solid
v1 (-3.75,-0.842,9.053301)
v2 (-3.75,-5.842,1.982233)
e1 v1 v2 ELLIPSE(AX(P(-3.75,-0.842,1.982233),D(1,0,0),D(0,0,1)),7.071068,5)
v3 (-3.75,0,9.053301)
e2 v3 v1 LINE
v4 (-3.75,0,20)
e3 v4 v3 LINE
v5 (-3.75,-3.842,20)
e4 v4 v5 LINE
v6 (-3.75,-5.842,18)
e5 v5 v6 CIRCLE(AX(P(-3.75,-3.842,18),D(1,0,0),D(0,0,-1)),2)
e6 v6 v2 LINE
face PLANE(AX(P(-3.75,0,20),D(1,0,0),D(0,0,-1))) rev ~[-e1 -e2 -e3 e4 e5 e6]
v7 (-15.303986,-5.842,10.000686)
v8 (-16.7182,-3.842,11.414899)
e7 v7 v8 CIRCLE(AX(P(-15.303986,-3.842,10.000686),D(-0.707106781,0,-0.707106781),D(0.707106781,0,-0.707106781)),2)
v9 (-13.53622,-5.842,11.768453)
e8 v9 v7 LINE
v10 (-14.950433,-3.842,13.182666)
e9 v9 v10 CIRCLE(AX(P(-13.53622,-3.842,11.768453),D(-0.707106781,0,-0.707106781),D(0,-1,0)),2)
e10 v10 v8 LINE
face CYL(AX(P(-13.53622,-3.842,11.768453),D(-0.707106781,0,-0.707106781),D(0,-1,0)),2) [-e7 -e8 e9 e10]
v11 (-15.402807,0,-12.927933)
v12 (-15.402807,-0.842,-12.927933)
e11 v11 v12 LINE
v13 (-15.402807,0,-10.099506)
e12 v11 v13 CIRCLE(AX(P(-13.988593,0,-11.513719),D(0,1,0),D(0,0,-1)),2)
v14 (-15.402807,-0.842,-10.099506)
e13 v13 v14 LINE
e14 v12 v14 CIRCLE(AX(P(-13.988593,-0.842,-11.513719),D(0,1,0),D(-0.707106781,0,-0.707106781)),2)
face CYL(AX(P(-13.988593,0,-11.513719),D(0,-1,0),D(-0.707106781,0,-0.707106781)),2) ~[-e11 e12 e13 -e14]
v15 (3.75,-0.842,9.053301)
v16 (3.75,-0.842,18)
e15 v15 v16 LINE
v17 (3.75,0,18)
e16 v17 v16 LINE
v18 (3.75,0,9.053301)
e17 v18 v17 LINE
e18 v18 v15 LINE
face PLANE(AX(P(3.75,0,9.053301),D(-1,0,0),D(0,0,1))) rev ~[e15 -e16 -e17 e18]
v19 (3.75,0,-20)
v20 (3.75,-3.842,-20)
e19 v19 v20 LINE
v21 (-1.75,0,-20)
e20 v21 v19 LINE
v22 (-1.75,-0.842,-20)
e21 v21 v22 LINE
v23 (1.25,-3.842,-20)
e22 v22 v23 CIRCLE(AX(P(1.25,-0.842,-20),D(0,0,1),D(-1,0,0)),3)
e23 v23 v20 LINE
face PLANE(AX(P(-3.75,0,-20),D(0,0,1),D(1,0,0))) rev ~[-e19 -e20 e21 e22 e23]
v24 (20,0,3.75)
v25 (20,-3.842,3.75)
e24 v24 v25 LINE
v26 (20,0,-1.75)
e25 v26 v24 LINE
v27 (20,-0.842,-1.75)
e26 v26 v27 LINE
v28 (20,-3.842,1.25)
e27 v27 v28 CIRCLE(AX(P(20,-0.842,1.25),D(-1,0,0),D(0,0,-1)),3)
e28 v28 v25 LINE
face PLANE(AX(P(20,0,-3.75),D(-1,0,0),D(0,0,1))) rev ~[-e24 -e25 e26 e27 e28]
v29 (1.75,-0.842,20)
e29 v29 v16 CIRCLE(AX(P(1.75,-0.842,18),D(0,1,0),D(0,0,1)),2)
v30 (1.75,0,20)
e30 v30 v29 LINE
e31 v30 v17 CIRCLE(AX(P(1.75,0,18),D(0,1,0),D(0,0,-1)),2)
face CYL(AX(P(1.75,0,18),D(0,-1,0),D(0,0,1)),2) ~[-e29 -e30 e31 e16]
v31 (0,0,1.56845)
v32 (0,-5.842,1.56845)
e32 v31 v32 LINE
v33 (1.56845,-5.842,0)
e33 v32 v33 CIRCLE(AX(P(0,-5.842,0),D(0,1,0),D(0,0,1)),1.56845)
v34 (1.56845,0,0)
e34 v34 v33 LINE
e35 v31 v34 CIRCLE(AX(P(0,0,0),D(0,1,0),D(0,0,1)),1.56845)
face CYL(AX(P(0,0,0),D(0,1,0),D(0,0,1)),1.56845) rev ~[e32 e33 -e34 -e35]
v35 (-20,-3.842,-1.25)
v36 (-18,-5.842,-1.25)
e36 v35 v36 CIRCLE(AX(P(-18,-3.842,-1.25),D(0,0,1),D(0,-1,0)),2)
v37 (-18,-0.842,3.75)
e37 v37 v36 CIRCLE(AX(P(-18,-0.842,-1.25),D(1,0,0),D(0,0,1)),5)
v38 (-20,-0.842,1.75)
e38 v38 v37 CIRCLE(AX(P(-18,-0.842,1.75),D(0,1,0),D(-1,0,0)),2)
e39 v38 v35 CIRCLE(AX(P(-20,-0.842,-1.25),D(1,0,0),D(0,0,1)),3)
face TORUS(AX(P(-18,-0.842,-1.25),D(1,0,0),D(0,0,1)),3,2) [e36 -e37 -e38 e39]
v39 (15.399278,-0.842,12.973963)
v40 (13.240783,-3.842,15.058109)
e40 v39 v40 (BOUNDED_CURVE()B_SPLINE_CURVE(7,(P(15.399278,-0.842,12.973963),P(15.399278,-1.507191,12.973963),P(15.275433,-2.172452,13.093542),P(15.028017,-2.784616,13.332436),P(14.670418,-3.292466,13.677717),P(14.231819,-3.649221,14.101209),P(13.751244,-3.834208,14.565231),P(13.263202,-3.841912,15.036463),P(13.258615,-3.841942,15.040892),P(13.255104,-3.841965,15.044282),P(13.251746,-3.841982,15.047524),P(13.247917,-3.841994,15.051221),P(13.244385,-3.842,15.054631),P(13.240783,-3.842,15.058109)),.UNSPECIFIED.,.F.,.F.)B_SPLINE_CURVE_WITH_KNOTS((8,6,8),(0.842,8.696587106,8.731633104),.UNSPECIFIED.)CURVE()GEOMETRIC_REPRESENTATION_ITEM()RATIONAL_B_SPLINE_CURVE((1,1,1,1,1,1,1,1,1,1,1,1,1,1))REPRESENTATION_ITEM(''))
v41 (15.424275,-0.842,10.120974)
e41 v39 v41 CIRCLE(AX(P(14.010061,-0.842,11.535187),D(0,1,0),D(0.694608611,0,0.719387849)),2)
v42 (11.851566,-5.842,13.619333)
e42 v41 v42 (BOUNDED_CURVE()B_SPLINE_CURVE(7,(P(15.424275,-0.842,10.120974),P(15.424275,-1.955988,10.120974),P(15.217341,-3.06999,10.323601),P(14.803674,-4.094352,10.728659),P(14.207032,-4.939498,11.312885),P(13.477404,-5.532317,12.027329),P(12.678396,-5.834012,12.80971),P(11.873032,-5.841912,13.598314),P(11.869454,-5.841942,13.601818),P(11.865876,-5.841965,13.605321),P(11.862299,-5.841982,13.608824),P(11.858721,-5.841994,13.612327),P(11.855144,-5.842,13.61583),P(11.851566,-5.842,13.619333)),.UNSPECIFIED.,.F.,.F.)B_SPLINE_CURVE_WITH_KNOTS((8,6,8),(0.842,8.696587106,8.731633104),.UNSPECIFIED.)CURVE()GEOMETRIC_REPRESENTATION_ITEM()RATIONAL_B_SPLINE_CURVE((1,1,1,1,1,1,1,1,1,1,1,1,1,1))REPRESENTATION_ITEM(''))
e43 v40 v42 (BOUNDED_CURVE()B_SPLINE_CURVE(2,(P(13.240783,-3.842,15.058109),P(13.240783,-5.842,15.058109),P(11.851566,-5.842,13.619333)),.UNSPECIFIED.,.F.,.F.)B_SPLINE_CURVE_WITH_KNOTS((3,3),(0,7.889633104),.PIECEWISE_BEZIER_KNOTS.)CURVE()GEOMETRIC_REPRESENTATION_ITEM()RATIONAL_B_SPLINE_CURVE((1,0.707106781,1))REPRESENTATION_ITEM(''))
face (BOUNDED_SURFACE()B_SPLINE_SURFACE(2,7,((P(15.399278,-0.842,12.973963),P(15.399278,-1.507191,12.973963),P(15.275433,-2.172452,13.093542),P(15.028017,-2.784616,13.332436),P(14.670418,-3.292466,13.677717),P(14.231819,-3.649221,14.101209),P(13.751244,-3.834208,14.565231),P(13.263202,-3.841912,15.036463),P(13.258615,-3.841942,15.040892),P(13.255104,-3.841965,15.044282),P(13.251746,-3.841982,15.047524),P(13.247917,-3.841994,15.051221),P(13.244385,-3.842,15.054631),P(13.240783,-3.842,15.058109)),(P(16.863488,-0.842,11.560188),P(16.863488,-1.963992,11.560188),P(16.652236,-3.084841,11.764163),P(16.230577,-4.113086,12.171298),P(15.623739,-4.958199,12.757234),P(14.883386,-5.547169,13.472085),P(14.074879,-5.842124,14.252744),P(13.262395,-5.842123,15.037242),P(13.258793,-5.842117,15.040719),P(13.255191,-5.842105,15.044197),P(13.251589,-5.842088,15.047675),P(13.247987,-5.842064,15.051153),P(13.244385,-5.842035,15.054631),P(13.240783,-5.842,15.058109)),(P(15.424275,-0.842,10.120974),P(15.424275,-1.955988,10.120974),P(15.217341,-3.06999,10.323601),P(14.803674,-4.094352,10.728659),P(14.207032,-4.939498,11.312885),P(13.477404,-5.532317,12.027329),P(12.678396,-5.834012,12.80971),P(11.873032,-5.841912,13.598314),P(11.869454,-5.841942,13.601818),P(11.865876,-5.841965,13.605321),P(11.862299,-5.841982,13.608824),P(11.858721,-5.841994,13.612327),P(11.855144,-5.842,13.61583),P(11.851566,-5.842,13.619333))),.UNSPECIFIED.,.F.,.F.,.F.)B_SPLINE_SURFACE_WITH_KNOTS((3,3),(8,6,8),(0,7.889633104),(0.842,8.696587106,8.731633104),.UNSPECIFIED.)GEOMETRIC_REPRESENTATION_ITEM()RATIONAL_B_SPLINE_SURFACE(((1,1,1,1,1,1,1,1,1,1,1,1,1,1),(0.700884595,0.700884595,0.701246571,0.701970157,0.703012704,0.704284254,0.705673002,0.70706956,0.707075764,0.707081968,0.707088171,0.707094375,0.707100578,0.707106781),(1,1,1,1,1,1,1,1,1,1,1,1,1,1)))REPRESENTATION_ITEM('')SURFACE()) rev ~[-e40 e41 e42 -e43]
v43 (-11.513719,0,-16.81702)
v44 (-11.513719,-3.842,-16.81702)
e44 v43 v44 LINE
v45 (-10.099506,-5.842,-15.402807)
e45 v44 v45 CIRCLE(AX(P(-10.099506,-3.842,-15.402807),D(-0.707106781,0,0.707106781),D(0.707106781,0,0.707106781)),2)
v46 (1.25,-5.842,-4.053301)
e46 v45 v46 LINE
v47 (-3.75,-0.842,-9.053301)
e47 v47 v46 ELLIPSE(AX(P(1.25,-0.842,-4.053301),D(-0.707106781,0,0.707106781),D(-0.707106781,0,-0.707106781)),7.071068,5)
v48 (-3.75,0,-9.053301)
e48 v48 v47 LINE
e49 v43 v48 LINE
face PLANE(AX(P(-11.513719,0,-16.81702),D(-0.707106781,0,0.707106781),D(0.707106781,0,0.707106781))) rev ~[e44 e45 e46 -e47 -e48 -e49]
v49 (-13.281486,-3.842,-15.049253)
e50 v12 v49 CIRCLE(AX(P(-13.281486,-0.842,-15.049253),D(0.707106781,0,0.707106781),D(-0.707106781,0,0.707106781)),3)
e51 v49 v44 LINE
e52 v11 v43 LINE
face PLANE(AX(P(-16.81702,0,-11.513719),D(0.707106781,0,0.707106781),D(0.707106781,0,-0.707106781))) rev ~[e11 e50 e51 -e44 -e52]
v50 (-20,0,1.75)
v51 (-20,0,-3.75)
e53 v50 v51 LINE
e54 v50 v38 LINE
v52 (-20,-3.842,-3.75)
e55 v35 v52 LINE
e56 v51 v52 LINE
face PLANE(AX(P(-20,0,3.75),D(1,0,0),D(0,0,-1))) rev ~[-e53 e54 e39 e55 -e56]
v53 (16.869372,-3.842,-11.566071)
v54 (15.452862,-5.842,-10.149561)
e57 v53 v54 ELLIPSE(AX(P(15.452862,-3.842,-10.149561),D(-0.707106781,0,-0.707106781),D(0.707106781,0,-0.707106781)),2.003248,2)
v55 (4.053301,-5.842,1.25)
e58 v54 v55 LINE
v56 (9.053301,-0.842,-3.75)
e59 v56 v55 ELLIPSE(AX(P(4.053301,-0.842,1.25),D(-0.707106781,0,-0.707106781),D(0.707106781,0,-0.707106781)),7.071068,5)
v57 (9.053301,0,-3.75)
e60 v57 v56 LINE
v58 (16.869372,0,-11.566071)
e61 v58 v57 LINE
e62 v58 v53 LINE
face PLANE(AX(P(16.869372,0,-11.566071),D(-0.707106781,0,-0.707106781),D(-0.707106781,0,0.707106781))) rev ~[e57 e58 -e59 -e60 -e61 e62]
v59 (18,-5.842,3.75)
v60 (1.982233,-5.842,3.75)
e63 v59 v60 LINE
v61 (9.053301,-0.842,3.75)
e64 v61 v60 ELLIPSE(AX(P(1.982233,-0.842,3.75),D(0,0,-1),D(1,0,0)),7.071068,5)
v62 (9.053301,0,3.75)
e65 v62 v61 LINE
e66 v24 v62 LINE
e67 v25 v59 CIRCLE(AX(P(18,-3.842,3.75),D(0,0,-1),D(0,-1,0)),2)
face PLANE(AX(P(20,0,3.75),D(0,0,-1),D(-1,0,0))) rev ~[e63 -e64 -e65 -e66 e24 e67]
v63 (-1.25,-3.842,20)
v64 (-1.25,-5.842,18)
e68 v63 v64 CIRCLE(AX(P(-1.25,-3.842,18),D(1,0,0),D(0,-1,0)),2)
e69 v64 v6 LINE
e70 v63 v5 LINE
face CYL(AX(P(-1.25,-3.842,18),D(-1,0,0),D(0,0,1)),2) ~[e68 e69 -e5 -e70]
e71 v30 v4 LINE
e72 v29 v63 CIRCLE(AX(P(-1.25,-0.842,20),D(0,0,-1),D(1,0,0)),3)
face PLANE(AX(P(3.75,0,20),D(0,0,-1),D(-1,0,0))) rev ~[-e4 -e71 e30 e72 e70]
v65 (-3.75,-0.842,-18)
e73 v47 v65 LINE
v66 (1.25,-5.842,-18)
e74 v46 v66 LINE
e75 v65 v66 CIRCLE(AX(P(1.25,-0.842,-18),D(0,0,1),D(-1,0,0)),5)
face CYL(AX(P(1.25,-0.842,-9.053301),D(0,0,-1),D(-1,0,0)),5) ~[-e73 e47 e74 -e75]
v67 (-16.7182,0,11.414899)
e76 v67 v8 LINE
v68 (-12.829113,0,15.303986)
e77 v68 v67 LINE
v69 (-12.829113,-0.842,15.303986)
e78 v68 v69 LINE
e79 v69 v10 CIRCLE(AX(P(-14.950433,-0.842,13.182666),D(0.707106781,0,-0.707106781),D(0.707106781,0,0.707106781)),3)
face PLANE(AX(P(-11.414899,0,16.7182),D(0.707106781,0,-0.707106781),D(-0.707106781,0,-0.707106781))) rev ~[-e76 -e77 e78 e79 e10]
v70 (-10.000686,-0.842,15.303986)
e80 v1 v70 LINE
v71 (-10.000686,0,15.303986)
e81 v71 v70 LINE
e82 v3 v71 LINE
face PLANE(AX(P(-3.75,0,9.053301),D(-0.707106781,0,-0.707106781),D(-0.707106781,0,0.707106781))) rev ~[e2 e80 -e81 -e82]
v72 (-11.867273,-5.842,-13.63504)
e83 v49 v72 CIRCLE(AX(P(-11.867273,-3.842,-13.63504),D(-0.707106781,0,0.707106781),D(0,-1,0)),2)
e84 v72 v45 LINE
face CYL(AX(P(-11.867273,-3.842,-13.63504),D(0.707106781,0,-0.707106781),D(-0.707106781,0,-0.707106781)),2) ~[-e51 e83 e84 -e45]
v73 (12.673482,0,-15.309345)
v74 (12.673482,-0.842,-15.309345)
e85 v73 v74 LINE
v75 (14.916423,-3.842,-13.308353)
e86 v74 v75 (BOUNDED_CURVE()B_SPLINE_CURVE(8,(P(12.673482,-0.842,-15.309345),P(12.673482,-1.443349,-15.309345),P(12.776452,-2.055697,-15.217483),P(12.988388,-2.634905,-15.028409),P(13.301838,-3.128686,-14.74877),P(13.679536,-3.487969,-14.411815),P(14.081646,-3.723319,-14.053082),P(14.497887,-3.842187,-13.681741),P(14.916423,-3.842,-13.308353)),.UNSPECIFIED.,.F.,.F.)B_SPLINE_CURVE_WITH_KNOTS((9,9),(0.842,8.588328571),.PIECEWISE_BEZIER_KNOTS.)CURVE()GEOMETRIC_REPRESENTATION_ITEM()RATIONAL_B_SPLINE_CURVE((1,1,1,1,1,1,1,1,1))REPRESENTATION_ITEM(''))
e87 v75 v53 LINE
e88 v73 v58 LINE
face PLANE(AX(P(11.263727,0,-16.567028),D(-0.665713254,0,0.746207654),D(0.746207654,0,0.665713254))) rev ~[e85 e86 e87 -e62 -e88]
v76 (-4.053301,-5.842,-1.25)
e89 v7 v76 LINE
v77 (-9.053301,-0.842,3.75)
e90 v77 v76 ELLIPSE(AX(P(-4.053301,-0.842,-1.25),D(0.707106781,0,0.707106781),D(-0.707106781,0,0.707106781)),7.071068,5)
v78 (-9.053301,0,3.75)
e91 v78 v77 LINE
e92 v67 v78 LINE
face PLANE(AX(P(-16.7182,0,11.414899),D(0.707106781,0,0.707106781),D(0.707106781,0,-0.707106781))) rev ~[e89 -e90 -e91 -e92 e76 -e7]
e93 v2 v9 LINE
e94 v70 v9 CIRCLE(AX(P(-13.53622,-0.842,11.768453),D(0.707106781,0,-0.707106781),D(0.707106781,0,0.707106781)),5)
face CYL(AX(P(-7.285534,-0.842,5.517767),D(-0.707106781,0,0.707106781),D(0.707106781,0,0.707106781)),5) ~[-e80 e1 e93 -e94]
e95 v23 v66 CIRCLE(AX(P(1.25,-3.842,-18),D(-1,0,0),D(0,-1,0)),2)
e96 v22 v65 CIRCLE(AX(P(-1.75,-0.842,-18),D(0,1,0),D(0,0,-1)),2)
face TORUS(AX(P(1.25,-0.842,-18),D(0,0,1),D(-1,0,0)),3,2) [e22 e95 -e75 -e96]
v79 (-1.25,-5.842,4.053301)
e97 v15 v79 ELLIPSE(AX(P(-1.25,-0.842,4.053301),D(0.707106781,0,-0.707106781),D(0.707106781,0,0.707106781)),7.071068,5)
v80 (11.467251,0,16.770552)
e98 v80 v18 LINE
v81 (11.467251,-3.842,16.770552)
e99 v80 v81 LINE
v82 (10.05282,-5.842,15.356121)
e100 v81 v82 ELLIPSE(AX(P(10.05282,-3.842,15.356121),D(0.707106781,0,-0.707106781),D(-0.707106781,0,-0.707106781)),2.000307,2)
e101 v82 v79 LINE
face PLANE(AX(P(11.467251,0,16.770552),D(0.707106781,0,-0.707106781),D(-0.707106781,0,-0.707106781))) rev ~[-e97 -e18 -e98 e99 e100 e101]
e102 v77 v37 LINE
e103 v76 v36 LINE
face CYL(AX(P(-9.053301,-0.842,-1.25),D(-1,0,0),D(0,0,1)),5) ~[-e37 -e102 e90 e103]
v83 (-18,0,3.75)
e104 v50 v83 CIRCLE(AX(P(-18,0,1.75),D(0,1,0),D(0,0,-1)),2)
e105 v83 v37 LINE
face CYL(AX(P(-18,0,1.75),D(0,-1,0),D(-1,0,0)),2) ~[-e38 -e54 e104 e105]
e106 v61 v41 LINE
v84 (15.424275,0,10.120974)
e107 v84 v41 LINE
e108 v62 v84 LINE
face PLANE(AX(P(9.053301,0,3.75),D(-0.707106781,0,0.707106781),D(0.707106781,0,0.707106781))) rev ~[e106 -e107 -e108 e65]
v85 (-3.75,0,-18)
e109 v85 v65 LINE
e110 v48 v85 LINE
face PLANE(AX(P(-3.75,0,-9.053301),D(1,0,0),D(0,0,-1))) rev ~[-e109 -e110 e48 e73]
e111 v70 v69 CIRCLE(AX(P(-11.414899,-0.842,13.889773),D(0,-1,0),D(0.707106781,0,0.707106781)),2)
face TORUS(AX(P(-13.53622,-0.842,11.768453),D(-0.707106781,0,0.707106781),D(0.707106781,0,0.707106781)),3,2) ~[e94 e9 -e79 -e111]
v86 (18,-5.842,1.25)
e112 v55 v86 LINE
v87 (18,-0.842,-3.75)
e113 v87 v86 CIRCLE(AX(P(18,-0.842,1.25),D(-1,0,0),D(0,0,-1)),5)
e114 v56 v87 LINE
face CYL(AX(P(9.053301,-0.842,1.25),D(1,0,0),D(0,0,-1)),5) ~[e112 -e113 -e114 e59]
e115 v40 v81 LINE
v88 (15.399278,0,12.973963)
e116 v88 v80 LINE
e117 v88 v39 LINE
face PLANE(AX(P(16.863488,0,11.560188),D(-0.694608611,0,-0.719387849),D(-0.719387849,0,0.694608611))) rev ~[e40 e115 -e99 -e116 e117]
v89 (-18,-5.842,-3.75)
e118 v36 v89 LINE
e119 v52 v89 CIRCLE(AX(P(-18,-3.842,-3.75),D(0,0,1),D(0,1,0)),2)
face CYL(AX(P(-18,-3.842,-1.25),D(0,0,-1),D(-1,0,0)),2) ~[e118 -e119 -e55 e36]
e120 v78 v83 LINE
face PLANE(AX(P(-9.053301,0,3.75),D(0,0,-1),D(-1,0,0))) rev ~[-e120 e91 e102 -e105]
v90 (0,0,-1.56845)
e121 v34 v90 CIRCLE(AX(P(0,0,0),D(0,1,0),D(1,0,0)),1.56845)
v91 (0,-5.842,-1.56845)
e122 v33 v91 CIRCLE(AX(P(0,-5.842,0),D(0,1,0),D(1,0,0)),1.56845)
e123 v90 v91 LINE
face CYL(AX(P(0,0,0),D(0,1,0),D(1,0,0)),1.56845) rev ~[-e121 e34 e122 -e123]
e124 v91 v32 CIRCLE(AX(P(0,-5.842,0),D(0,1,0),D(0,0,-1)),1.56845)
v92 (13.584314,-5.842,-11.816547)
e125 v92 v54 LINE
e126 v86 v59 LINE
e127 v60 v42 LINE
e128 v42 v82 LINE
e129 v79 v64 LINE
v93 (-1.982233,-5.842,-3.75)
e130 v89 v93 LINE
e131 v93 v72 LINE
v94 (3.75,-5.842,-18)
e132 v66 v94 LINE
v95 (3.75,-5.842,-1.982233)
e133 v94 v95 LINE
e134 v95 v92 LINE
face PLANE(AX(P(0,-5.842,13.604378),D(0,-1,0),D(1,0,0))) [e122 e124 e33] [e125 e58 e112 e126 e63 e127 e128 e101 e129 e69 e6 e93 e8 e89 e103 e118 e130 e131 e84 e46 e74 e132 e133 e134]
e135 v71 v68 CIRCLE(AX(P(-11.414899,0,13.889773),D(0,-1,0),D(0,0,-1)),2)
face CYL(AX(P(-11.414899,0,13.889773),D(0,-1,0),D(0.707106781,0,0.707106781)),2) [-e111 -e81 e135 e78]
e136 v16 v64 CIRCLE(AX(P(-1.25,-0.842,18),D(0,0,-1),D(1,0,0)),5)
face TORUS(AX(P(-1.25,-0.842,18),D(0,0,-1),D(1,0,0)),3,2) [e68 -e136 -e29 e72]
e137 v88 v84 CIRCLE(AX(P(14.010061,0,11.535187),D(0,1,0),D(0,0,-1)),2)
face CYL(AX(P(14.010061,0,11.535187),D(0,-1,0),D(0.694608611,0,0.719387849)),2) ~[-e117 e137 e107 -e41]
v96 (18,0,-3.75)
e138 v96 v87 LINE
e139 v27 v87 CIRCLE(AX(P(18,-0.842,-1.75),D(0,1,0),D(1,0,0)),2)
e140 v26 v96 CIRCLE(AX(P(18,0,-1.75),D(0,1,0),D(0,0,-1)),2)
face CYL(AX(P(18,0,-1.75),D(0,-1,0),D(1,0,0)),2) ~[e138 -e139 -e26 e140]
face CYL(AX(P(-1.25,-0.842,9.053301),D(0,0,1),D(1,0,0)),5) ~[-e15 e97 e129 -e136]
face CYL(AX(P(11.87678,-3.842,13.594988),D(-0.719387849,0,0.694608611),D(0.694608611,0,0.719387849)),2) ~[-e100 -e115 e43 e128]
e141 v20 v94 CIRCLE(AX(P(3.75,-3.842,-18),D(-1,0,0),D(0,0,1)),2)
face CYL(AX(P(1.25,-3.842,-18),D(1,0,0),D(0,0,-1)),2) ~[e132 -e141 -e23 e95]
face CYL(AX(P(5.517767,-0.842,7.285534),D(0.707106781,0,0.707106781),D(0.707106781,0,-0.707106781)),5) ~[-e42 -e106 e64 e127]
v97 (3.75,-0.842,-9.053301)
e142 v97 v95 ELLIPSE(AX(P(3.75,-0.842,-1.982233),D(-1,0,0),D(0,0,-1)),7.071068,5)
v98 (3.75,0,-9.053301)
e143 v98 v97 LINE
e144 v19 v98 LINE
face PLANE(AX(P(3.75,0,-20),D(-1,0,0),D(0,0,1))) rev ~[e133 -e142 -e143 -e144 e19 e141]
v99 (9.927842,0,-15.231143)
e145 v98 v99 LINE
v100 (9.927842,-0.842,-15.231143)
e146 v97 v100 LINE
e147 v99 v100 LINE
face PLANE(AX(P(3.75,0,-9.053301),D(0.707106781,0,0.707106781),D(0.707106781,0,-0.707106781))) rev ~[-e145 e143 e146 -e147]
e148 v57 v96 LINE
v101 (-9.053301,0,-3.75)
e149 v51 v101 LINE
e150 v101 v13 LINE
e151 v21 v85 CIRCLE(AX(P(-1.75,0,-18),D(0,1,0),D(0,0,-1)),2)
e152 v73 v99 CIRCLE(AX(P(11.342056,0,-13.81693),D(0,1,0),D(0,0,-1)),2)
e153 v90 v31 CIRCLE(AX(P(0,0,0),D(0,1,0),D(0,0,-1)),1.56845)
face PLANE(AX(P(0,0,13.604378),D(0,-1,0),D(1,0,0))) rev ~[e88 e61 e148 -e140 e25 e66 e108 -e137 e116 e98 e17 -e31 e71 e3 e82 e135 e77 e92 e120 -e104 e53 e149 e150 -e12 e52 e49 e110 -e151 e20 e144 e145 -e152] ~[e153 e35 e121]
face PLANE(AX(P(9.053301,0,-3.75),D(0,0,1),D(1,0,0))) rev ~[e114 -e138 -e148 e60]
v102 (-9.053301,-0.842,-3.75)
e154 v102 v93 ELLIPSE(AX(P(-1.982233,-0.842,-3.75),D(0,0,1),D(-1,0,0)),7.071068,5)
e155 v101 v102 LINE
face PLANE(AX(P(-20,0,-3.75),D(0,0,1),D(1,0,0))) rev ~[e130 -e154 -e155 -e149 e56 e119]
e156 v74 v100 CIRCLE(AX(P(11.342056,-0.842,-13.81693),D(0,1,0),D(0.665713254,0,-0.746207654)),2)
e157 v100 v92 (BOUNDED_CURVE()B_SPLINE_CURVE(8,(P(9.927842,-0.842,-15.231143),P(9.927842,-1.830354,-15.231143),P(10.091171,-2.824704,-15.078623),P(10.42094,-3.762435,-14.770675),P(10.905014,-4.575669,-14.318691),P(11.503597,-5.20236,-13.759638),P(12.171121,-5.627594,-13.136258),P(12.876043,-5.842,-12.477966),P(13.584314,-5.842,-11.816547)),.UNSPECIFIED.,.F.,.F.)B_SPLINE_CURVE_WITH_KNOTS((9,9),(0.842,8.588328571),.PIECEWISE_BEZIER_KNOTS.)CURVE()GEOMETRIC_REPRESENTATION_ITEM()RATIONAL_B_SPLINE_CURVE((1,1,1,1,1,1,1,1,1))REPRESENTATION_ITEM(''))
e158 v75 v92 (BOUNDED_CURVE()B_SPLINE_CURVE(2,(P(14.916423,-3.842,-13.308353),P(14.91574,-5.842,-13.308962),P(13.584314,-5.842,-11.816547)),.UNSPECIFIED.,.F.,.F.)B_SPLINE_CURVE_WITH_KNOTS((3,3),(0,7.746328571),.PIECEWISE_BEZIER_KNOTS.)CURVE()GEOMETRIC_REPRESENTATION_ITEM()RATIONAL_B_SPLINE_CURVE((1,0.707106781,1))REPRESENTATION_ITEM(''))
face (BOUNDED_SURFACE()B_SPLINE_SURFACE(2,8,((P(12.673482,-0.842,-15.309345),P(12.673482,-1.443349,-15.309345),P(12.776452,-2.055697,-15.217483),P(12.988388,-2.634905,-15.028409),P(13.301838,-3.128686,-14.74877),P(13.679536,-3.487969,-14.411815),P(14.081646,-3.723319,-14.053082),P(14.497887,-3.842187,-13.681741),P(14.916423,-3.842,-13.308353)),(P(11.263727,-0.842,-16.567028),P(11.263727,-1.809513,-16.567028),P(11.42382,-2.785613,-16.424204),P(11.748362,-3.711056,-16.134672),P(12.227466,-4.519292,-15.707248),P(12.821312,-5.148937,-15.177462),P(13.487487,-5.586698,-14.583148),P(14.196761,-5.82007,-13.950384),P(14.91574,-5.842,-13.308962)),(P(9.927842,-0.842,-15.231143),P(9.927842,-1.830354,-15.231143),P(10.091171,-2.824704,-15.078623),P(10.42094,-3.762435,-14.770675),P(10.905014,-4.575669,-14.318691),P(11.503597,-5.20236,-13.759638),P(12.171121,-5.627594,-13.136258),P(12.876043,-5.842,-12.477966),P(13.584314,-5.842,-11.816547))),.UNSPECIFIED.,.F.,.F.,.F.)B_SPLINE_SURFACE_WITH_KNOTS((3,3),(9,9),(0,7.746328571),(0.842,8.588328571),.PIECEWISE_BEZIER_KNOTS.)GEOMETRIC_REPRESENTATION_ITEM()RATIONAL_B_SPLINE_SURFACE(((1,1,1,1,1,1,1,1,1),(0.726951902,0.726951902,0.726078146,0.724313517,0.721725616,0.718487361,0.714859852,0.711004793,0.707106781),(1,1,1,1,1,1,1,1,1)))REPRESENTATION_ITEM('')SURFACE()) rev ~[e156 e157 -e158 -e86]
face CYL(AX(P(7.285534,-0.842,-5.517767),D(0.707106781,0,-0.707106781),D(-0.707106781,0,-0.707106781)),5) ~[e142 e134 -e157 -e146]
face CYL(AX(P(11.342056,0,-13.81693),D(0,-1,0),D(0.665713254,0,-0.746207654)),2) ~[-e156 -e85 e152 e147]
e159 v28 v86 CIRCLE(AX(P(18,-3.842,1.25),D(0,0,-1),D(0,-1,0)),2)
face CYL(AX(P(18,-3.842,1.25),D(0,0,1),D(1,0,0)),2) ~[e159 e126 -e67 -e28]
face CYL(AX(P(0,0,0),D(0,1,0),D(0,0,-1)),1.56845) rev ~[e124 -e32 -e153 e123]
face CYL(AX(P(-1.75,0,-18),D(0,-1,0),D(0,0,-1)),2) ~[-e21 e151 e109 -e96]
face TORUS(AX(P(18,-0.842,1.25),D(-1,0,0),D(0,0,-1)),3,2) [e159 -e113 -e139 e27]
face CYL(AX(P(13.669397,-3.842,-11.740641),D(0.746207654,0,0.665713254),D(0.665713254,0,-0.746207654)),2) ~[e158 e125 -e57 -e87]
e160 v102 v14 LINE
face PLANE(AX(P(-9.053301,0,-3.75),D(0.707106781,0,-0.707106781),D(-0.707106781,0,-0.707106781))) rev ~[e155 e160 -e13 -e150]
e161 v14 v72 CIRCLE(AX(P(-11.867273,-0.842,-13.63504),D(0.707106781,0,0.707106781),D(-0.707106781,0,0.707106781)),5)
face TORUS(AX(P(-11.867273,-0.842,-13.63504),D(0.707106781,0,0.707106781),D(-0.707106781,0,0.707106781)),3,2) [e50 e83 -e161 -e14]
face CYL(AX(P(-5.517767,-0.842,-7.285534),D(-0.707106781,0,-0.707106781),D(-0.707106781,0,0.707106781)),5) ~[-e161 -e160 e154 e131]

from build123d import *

# Parameters (mm, degrees)
F1_DEPTH = 5.842
F2_R     = 5
F3_R     = 2


with BuildPart() as f1:
    # F0 (on Front) → F1 (new body)
    with BuildSketch(Plane.XZ):
        Polygon((0, 5.3033008589), (3.75, 9.0533008589), (3.75, 20), (-3.75, 20), (-3.75, 9.0533008589), align=None)
        Polygon((3.75, -20), (3.75, -9.0533008589), (0, -5.3033008589), (-3.75, -9.0533008589), (-3.75, -20), align=None)
        Polygon((-3.75, 3.75), (-3.75, 9.0533008589), (-11.4148991575, 16.7182000164), (-16.7182000164, 11.4148991575), (-9.0533008589, 3.75), align=None)
        Polygon((-11.5137192974, -16.8170201563), (-3.75, -9.0533008589), (-3.75, -3.75), (-9.0533008589, -3.75), (-16.8170201563, -11.5137192974), align=None)
        Polygon((3.75, 9.0533008589), (3.75, 3.75), (9.0533008589, 3.75), (16.8634883625, 11.5601875036), (11.4672510912, 16.7705519501), align=None)
        Polygon((16.86937209, -11.5660712311), (9.0533008589, -3.75), (3.75, -3.75), (3.75, -9.0533008589), (11.2637270839, -16.5670279428), align=None)
        Polygon((-9.0533008589, -3.75), (-5.3033008589, 0), (-9.0533008589, 3.75), (-20, 3.75), (-20, -3.75), align=None)
        Polygon((9.0533008589, 3.75), (5.3033008589, 0), (9.0533008589, -3.75), (20, -3.75), (20, 3.75), align=None)
        with BuildLine():
            ThreePointArc((3.75, 3.3071891388), (4.6193976626, 1.9134171618), (4.9901862962, 0.3131145627))
            Line((4.9901862962, 0.3131145627), (5.3033008589, 0))
            Line((5.3033008589, 0), (9.0533008589, 3.75))
            Line((9.0533008589, 3.75), (3.75, 3.75))
            Line((3.75, 3.75), (3.75, 3.3071891388))
        make_face()
        with BuildLine():
            ThreePointArc((0.3131145627, 4.9901862962), (1.9134171618, 4.6193976626), (3.3071891388, 3.75))
            Line((3.3071891388, 3.75), (3.75, 3.75))
            Line((3.75, 3.75), (3.75, 9.0533008589))
            Line((3.75, 9.0533008589), (0, 5.3033008589))
            Line((0, 5.3033008589), (0.3131145627, 4.9901862962))
        make_face()
        with BuildLine():
            ThreePointArc((-3.3071891388, 3.75), (-1.9134171618, 4.6193976626), (-0.3131145627, 4.9901862962))
            Line((-0.3131145627, 4.9901862962), (0, 5.3033008589))
            Line((0, 5.3033008589), (-3.75, 9.0533008589))
            Line((-3.75, 9.0533008589), (-3.75, 3.75))
            Line((-3.75, 3.75), (-3.3071891388, 3.75))
        make_face()
        with BuildLine():
            ThreePointArc((-4.9901862962, 0.3131145627), (-4.6193976626, 1.9134171618), (-3.75, 3.3071891388))
            Line((-3.75, 3.3071891388), (-3.75, 3.75))
            Line((-3.75, 3.75), (-9.0533008589, 3.75))
            Line((-9.0533008589, 3.75), (-5.3033008589, 0))
            Line((-5.3033008589, 0), (-4.9901862962, 0.3131145627))
        make_face()
        with BuildLine():
            Line((-3.75, -3.75), (-3.75, -3.3071891388))
            ThreePointArc((-3.75, -3.3071891388), (-4.6193976626, -1.9134171618), (-4.9901862962, -0.3131145627))
            Line((-4.9901862962, -0.3131145627), (-5.3033008589, 0))
            Line((-5.3033008589, 0), (-9.0533008589, -3.75))
            Line((-9.0533008589, -3.75), (-3.75, -3.75))
        make_face()
        with BuildLine():
            Line((3.75, -3.75), (3.3071891388, -3.75))
            ThreePointArc((3.3071891388, -3.75), (1.9134171618, -4.6193976626), (0.3131145627, -4.9901862962))
            Line((0.3131145627, -4.9901862962), (0, -5.3033008589))
            Line((0, -5.3033008589), (3.75, -9.0533008589))
            Line((3.75, -9.0533008589), (3.75, -3.75))
        make_face()
        with BuildLine():
            Line((5.3033008589, 0), (4.9901862962, -0.3131145627))
            ThreePointArc((4.9901862962, -0.3131145627), (4.6193976626, -1.9134171618), (3.75, -3.3071891388))
            Line((3.75, -3.3071891388), (3.75, -3.75))
            Line((3.75, -3.75), (9.0533008589, -3.75))
            Line((9.0533008589, -3.75), (5.3033008589, 0))
        make_face()
        with BuildLine():
            Line((0, -5.3033008589), (-0.3131145627, -4.9901862962))
            ThreePointArc((-0.3131145627, -4.9901862962), (-1.9134171618, -4.6193976626), (-3.3071891388, -3.75))
            Line((-3.3071891388, -3.75), (-3.75, -3.75))
            Line((-3.75, -3.75), (-3.75, -9.0533008589))
            Line((-3.75, -9.0533008589), (0, -5.3033008589))
        make_face()
        with BuildLine():
            Line((-3.75, -3.3071891388), (-3.75, -1.5533008589))
            Line((-3.75, -1.5533008589), (-4.9901862962, -0.3131145627))
            ThreePointArc((-4.9901862962, -0.3131145627), (-4.6193976626, -1.9134171618), (-3.75, -3.3071891388))
        make_face()
        with BuildLine():
            Line((-1.5533008589, 3.75), (1.5533008589, 3.75))
            Line((1.5533008589, 3.75), (0.3131145627, 4.9901862962))
            ThreePointArc((0.3131145627, 4.9901862962), (0, 5), (-0.3131145627, 4.9901862962))
            Line((-0.3131145627, 4.9901862962), (-1.5533008589, 3.75))
        make_face()
        with BuildLine():
            ThreePointArc((4.9901862962, -0.3131145627), (4.9975459718, -0.1566341583), (5, 0))
            ThreePointArc((5, 0), (4.9975459718, 0.1566341583), (4.9901862962, 0.3131145627))
            Line((4.9901862962, 0.3131145627), (3.75, 1.5533008589))
            Line((3.75, 1.5533008589), (3.75, -1.5533008589))
            Line((3.75, -1.5533008589), (4.9901862962, -0.3131145627))
        make_face()
        with BuildLine():
            Line((-3.75, -1.5533008589), (-3.75, 1.5533008589))
            Line((-3.75, 1.5533008589), (-4.9901862962, 0.3131145627))
            ThreePointArc((-4.9901862962, 0.3131145627), (-5, 0), (-4.9901862962, -0.3131145627))
            Line((-4.9901862962, -0.3131145627), (-3.75, -1.5533008589))
        make_face()
        with BuildLine():
            Line((0, -5.3033008589), (0.3131145627, -4.9901862962))
            ThreePointArc((0.3131145627, -4.9901862962), (0, -5), (-0.3131145627, -4.9901862962))
            Line((-0.3131145627, -4.9901862962), (0, -5.3033008589))
        make_face()
        with BuildLine():
            ThreePointArc((-3.75, 3.3071891388), (-3.5355339059, 3.5355339059), (-3.3071891388, 3.75))
            Line((-3.3071891388, 3.75), (-3.75, 3.75))
            Line((-3.75, 3.75), (-3.75, 3.3071891388))
        make_face()
        Polygon((3.75, -1.5533008589), (3.75, 1.5533008589), (1.5533008589, 3.75), (-1.5533008589, 3.75), (-3.75, 1.5533008589), (-3.75, -1.5533008589), (-1.5533008589, -3.75), (1.5533008589, -3.75), align=None)
        with BuildLine():
            ThreePointArc((0, 1.56845), (1.109061631, 1.109061631), (1.56845, 0))
            ThreePointArc((1.56845, 0), (1.109061631, -1.109061631), (0, -1.56845))
            ThreePointArc((0, -1.56845), (-1.56845, 0), (0, 1.56845))
        make_face(mode=Mode.SUBTRACT)
        with BuildLine():
            Line((-3.3071891388, -3.75), (-1.5533008589, -3.75))
            Line((-1.5533008589, -3.75), (-3.75, -1.5533008589))
            Line((-3.75, -1.5533008589), (-3.75, -3.3071891388))
            ThreePointArc((-3.75, -3.3071891388), (-3.5355339059, -3.5355339059), (-3.3071891388, -3.75))
        make_face()
        with BuildLine():
            ThreePointArc((3.3071891388, -3.75), (3.5355339059, -3.5355339059), (3.75, -3.3071891388))
            Line((3.75, -3.3071891388), (3.75, -1.5533008589))
            Line((3.75, -1.5533008589), (1.5533008589, -3.75))
            Line((1.5533008589, -3.75), (3.3071891388, -3.75))
        make_face()
        with BuildLine():
            ThreePointArc((3.3071891388, 3.75), (3.5355339059, 3.5355339059), (3.75, 3.3071891388))
            Line((3.75, 3.3071891388), (3.75, 3.75))
            Line((3.75, 3.75), (3.3071891388, 3.75))
        make_face()
        with BuildLine():
            ThreePointArc((3.75, -3.3071891388), (4.6193976626, -1.9134171618), (4.9901862962, -0.3131145627))
            Line((4.9901862962, -0.3131145627), (3.75, -1.5533008589))
            Line((3.75, -1.5533008589), (3.75, -3.3071891388))
        make_face()
        with BuildLine():
            Line((0.3131145627, -4.9901862962), (1.5533008589, -3.75))
            Line((1.5533008589, -3.75), (-1.5533008589, -3.75))
            Line((-1.5533008589, -3.75), (-0.3131145627, -4.9901862962))
            ThreePointArc((-0.3131145627, -4.9901862962), (0, -5), (0.3131145627, -4.9901862962))
        make_face()
        with BuildLine():
            Line((-3.75, 1.5533008589), (-1.5533008589, 3.75))
            Line((-1.5533008589, 3.75), (-3.3071891388, 3.75))
            ThreePointArc((-3.3071891388, 3.75), (-3.5355339059, 3.5355339059), (-3.75, 3.3071891388))
            Line((-3.75, 3.3071891388), (-3.75, 1.5533008589))
        make_face()
        with BuildLine():
            Line((-4.9901862962, 0.3131145627), (-3.75, 1.5533008589))
            Line((-3.75, 1.5533008589), (-3.75, 3.3071891388))
            ThreePointArc((-3.75, 3.3071891388), (-4.6193976626, 1.9134171618), (-4.9901862962, 0.3131145627))
        make_face()
        with BuildLine():
            Line((-3.3071891388, 3.75), (-1.5533008589, 3.75))
            Line((-1.5533008589, 3.75), (-0.3131145627, 4.9901862962))
            ThreePointArc((-0.3131145627, 4.9901862962), (-1.9134171618, 4.6193976626), (-3.3071891388, 3.75))
        make_face()
        with BuildLine():
            Line((-0.3131145627, -4.9901862962), (-1.5533008589, -3.75))
            Line((-1.5533008589, -3.75), (-3.3071891388, -3.75))
            ThreePointArc((-3.3071891388, -3.75), (-1.9134171618, -4.6193976626), (-0.3131145627, -4.9901862962))
        make_face()
        with BuildLine():
            ThreePointArc((0.3131145627, -4.9901862962), (1.9134171618, -4.6193976626), (3.3071891388, -3.75))
            Line((3.3071891388, -3.75), (1.5533008589, -3.75))
            Line((1.5533008589, -3.75), (0.3131145627, -4.9901862962))
        make_face()
        with BuildLine():
            Line((3.75, 1.5533008589), (3.75, 3.3071891388))
            ThreePointArc((3.75, 3.3071891388), (3.5355339059, 3.5355339059), (3.3071891388, 3.75))
            Line((3.3071891388, 3.75), (1.5533008589, 3.75))
            Line((1.5533008589, 3.75), (3.75, 1.5533008589))
        make_face()
        with BuildLine():
            Line((1.5533008589, 3.75), (3.3071891388, 3.75))
            ThreePointArc((3.3071891388, 3.75), (1.9134171618, 4.6193976626), (0.3131145627, 4.9901862962))
            Line((0.3131145627, 4.9901862962), (1.5533008589, 3.75))
        make_face()
        with BuildLine():
            Line((3.75, 1.5533008589), (4.9901862962, 0.3131145627))
            ThreePointArc((4.9901862962, 0.3131145627), (4.6193976626, 1.9134171618), (3.75, 3.3071891388))
            Line((3.75, 3.3071891388), (3.75, 1.5533008589))
        make_face()
        with BuildLine():
            ThreePointArc((-4.9901862962, -0.3131145627), (-5, 0), (-4.9901862962, 0.3131145627))
            Line((-4.9901862962, 0.3131145627), (-5.3033008589, 0))
            Line((-5.3033008589, 0), (-4.9901862962, -0.3131145627))
        make_face()
        with BuildLine():
            ThreePointArc((-0.3131145627, 4.9901862962), (0, 5), (0.3131145627, 4.9901862962))
            Line((0.3131145627, 4.9901862962), (0, 5.3033008589))
            Line((0, 5.3033008589), (-0.3131145627, 4.9901862962))
        make_face()
        with BuildLine():
            ThreePointArc((4.9901862962, 0.3131145627), (4.9975459718, 0.1566341583), (5, 0))
            ThreePointArc((5, 0), (4.9975459718, -0.1566341583), (4.9901862962, -0.3131145627))
            Line((4.9901862962, -0.3131145627), (5.3033008589, 0))
            Line((5.3033008589, 0), (4.9901862962, 0.3131145627))
        make_face()
        with BuildLine():
            Line((3.75, -3.75), (3.75, -3.3071891388))
            ThreePointArc((3.75, -3.3071891388), (3.5355339059, -3.5355339059), (3.3071891388, -3.75))
            Line((3.3071891388, -3.75), (3.75, -3.75))
        make_face()
        with BuildLine():
            Line((-3.75, -3.75), (-3.3071891388, -3.75))
            ThreePointArc((-3.3071891388, -3.75), (-3.5355339059, -3.5355339059), (-3.75, -3.3071891388))
            Line((-3.75, -3.3071891388), (-3.75, -3.75))
        make_face()
    extrude(amount=F1_DEPTH)

    # F2
    f2_edges = [f1.edges().sort_by_distance(p)[0] for p in [
        (-7.58245, -5.842, 12.88575),
        (3.75, -5.842, 14.52665),
        (12.958395, -5.842, 7.655094),
        (14.52665, -5.842, -3.75),
        (7.506864, -5.842, -12.810164),
        (-3.75, -5.842, -14.52665),
        (-12.935161, -5.842, -7.63186),
        (-14.52665, -5.842, 3.75),
    ]]
    fillet(f2_edges, radius=F2_R)

    # F3
    f3_edges = [f1.edges().sort_by_distance(p)[0] for p in [
        (-2.5, -5.842, 20),
        (2.285534, -4.377534, 20),
        (12.366624, -5.842, 15.902158),
        (15.80971, -4.37767, 12.577669),
        (20, -5.842, 2.5),
        (20, -4.377534, -2.285534),
        (-12.450433, -4.377534, 15.682666),
        (-15.834317, -5.842, 12.298783),
        (-20, -5.842, -2.5),
        (-20, -4.377534, 2.285534),
        (-12.397603, -5.842, -15.933137),
        (-15.781486, -4.377534, -12.549253),
        (-2.285534, -4.377534, -20),
        (2.5, -5.842, -20),
        (15.935098, -5.842, -12.399564),
        (12.359369, -4.378968, -15.589574),
    ]]
    fillet(f3_edges, radius=F3_R)


solid = f1.part
